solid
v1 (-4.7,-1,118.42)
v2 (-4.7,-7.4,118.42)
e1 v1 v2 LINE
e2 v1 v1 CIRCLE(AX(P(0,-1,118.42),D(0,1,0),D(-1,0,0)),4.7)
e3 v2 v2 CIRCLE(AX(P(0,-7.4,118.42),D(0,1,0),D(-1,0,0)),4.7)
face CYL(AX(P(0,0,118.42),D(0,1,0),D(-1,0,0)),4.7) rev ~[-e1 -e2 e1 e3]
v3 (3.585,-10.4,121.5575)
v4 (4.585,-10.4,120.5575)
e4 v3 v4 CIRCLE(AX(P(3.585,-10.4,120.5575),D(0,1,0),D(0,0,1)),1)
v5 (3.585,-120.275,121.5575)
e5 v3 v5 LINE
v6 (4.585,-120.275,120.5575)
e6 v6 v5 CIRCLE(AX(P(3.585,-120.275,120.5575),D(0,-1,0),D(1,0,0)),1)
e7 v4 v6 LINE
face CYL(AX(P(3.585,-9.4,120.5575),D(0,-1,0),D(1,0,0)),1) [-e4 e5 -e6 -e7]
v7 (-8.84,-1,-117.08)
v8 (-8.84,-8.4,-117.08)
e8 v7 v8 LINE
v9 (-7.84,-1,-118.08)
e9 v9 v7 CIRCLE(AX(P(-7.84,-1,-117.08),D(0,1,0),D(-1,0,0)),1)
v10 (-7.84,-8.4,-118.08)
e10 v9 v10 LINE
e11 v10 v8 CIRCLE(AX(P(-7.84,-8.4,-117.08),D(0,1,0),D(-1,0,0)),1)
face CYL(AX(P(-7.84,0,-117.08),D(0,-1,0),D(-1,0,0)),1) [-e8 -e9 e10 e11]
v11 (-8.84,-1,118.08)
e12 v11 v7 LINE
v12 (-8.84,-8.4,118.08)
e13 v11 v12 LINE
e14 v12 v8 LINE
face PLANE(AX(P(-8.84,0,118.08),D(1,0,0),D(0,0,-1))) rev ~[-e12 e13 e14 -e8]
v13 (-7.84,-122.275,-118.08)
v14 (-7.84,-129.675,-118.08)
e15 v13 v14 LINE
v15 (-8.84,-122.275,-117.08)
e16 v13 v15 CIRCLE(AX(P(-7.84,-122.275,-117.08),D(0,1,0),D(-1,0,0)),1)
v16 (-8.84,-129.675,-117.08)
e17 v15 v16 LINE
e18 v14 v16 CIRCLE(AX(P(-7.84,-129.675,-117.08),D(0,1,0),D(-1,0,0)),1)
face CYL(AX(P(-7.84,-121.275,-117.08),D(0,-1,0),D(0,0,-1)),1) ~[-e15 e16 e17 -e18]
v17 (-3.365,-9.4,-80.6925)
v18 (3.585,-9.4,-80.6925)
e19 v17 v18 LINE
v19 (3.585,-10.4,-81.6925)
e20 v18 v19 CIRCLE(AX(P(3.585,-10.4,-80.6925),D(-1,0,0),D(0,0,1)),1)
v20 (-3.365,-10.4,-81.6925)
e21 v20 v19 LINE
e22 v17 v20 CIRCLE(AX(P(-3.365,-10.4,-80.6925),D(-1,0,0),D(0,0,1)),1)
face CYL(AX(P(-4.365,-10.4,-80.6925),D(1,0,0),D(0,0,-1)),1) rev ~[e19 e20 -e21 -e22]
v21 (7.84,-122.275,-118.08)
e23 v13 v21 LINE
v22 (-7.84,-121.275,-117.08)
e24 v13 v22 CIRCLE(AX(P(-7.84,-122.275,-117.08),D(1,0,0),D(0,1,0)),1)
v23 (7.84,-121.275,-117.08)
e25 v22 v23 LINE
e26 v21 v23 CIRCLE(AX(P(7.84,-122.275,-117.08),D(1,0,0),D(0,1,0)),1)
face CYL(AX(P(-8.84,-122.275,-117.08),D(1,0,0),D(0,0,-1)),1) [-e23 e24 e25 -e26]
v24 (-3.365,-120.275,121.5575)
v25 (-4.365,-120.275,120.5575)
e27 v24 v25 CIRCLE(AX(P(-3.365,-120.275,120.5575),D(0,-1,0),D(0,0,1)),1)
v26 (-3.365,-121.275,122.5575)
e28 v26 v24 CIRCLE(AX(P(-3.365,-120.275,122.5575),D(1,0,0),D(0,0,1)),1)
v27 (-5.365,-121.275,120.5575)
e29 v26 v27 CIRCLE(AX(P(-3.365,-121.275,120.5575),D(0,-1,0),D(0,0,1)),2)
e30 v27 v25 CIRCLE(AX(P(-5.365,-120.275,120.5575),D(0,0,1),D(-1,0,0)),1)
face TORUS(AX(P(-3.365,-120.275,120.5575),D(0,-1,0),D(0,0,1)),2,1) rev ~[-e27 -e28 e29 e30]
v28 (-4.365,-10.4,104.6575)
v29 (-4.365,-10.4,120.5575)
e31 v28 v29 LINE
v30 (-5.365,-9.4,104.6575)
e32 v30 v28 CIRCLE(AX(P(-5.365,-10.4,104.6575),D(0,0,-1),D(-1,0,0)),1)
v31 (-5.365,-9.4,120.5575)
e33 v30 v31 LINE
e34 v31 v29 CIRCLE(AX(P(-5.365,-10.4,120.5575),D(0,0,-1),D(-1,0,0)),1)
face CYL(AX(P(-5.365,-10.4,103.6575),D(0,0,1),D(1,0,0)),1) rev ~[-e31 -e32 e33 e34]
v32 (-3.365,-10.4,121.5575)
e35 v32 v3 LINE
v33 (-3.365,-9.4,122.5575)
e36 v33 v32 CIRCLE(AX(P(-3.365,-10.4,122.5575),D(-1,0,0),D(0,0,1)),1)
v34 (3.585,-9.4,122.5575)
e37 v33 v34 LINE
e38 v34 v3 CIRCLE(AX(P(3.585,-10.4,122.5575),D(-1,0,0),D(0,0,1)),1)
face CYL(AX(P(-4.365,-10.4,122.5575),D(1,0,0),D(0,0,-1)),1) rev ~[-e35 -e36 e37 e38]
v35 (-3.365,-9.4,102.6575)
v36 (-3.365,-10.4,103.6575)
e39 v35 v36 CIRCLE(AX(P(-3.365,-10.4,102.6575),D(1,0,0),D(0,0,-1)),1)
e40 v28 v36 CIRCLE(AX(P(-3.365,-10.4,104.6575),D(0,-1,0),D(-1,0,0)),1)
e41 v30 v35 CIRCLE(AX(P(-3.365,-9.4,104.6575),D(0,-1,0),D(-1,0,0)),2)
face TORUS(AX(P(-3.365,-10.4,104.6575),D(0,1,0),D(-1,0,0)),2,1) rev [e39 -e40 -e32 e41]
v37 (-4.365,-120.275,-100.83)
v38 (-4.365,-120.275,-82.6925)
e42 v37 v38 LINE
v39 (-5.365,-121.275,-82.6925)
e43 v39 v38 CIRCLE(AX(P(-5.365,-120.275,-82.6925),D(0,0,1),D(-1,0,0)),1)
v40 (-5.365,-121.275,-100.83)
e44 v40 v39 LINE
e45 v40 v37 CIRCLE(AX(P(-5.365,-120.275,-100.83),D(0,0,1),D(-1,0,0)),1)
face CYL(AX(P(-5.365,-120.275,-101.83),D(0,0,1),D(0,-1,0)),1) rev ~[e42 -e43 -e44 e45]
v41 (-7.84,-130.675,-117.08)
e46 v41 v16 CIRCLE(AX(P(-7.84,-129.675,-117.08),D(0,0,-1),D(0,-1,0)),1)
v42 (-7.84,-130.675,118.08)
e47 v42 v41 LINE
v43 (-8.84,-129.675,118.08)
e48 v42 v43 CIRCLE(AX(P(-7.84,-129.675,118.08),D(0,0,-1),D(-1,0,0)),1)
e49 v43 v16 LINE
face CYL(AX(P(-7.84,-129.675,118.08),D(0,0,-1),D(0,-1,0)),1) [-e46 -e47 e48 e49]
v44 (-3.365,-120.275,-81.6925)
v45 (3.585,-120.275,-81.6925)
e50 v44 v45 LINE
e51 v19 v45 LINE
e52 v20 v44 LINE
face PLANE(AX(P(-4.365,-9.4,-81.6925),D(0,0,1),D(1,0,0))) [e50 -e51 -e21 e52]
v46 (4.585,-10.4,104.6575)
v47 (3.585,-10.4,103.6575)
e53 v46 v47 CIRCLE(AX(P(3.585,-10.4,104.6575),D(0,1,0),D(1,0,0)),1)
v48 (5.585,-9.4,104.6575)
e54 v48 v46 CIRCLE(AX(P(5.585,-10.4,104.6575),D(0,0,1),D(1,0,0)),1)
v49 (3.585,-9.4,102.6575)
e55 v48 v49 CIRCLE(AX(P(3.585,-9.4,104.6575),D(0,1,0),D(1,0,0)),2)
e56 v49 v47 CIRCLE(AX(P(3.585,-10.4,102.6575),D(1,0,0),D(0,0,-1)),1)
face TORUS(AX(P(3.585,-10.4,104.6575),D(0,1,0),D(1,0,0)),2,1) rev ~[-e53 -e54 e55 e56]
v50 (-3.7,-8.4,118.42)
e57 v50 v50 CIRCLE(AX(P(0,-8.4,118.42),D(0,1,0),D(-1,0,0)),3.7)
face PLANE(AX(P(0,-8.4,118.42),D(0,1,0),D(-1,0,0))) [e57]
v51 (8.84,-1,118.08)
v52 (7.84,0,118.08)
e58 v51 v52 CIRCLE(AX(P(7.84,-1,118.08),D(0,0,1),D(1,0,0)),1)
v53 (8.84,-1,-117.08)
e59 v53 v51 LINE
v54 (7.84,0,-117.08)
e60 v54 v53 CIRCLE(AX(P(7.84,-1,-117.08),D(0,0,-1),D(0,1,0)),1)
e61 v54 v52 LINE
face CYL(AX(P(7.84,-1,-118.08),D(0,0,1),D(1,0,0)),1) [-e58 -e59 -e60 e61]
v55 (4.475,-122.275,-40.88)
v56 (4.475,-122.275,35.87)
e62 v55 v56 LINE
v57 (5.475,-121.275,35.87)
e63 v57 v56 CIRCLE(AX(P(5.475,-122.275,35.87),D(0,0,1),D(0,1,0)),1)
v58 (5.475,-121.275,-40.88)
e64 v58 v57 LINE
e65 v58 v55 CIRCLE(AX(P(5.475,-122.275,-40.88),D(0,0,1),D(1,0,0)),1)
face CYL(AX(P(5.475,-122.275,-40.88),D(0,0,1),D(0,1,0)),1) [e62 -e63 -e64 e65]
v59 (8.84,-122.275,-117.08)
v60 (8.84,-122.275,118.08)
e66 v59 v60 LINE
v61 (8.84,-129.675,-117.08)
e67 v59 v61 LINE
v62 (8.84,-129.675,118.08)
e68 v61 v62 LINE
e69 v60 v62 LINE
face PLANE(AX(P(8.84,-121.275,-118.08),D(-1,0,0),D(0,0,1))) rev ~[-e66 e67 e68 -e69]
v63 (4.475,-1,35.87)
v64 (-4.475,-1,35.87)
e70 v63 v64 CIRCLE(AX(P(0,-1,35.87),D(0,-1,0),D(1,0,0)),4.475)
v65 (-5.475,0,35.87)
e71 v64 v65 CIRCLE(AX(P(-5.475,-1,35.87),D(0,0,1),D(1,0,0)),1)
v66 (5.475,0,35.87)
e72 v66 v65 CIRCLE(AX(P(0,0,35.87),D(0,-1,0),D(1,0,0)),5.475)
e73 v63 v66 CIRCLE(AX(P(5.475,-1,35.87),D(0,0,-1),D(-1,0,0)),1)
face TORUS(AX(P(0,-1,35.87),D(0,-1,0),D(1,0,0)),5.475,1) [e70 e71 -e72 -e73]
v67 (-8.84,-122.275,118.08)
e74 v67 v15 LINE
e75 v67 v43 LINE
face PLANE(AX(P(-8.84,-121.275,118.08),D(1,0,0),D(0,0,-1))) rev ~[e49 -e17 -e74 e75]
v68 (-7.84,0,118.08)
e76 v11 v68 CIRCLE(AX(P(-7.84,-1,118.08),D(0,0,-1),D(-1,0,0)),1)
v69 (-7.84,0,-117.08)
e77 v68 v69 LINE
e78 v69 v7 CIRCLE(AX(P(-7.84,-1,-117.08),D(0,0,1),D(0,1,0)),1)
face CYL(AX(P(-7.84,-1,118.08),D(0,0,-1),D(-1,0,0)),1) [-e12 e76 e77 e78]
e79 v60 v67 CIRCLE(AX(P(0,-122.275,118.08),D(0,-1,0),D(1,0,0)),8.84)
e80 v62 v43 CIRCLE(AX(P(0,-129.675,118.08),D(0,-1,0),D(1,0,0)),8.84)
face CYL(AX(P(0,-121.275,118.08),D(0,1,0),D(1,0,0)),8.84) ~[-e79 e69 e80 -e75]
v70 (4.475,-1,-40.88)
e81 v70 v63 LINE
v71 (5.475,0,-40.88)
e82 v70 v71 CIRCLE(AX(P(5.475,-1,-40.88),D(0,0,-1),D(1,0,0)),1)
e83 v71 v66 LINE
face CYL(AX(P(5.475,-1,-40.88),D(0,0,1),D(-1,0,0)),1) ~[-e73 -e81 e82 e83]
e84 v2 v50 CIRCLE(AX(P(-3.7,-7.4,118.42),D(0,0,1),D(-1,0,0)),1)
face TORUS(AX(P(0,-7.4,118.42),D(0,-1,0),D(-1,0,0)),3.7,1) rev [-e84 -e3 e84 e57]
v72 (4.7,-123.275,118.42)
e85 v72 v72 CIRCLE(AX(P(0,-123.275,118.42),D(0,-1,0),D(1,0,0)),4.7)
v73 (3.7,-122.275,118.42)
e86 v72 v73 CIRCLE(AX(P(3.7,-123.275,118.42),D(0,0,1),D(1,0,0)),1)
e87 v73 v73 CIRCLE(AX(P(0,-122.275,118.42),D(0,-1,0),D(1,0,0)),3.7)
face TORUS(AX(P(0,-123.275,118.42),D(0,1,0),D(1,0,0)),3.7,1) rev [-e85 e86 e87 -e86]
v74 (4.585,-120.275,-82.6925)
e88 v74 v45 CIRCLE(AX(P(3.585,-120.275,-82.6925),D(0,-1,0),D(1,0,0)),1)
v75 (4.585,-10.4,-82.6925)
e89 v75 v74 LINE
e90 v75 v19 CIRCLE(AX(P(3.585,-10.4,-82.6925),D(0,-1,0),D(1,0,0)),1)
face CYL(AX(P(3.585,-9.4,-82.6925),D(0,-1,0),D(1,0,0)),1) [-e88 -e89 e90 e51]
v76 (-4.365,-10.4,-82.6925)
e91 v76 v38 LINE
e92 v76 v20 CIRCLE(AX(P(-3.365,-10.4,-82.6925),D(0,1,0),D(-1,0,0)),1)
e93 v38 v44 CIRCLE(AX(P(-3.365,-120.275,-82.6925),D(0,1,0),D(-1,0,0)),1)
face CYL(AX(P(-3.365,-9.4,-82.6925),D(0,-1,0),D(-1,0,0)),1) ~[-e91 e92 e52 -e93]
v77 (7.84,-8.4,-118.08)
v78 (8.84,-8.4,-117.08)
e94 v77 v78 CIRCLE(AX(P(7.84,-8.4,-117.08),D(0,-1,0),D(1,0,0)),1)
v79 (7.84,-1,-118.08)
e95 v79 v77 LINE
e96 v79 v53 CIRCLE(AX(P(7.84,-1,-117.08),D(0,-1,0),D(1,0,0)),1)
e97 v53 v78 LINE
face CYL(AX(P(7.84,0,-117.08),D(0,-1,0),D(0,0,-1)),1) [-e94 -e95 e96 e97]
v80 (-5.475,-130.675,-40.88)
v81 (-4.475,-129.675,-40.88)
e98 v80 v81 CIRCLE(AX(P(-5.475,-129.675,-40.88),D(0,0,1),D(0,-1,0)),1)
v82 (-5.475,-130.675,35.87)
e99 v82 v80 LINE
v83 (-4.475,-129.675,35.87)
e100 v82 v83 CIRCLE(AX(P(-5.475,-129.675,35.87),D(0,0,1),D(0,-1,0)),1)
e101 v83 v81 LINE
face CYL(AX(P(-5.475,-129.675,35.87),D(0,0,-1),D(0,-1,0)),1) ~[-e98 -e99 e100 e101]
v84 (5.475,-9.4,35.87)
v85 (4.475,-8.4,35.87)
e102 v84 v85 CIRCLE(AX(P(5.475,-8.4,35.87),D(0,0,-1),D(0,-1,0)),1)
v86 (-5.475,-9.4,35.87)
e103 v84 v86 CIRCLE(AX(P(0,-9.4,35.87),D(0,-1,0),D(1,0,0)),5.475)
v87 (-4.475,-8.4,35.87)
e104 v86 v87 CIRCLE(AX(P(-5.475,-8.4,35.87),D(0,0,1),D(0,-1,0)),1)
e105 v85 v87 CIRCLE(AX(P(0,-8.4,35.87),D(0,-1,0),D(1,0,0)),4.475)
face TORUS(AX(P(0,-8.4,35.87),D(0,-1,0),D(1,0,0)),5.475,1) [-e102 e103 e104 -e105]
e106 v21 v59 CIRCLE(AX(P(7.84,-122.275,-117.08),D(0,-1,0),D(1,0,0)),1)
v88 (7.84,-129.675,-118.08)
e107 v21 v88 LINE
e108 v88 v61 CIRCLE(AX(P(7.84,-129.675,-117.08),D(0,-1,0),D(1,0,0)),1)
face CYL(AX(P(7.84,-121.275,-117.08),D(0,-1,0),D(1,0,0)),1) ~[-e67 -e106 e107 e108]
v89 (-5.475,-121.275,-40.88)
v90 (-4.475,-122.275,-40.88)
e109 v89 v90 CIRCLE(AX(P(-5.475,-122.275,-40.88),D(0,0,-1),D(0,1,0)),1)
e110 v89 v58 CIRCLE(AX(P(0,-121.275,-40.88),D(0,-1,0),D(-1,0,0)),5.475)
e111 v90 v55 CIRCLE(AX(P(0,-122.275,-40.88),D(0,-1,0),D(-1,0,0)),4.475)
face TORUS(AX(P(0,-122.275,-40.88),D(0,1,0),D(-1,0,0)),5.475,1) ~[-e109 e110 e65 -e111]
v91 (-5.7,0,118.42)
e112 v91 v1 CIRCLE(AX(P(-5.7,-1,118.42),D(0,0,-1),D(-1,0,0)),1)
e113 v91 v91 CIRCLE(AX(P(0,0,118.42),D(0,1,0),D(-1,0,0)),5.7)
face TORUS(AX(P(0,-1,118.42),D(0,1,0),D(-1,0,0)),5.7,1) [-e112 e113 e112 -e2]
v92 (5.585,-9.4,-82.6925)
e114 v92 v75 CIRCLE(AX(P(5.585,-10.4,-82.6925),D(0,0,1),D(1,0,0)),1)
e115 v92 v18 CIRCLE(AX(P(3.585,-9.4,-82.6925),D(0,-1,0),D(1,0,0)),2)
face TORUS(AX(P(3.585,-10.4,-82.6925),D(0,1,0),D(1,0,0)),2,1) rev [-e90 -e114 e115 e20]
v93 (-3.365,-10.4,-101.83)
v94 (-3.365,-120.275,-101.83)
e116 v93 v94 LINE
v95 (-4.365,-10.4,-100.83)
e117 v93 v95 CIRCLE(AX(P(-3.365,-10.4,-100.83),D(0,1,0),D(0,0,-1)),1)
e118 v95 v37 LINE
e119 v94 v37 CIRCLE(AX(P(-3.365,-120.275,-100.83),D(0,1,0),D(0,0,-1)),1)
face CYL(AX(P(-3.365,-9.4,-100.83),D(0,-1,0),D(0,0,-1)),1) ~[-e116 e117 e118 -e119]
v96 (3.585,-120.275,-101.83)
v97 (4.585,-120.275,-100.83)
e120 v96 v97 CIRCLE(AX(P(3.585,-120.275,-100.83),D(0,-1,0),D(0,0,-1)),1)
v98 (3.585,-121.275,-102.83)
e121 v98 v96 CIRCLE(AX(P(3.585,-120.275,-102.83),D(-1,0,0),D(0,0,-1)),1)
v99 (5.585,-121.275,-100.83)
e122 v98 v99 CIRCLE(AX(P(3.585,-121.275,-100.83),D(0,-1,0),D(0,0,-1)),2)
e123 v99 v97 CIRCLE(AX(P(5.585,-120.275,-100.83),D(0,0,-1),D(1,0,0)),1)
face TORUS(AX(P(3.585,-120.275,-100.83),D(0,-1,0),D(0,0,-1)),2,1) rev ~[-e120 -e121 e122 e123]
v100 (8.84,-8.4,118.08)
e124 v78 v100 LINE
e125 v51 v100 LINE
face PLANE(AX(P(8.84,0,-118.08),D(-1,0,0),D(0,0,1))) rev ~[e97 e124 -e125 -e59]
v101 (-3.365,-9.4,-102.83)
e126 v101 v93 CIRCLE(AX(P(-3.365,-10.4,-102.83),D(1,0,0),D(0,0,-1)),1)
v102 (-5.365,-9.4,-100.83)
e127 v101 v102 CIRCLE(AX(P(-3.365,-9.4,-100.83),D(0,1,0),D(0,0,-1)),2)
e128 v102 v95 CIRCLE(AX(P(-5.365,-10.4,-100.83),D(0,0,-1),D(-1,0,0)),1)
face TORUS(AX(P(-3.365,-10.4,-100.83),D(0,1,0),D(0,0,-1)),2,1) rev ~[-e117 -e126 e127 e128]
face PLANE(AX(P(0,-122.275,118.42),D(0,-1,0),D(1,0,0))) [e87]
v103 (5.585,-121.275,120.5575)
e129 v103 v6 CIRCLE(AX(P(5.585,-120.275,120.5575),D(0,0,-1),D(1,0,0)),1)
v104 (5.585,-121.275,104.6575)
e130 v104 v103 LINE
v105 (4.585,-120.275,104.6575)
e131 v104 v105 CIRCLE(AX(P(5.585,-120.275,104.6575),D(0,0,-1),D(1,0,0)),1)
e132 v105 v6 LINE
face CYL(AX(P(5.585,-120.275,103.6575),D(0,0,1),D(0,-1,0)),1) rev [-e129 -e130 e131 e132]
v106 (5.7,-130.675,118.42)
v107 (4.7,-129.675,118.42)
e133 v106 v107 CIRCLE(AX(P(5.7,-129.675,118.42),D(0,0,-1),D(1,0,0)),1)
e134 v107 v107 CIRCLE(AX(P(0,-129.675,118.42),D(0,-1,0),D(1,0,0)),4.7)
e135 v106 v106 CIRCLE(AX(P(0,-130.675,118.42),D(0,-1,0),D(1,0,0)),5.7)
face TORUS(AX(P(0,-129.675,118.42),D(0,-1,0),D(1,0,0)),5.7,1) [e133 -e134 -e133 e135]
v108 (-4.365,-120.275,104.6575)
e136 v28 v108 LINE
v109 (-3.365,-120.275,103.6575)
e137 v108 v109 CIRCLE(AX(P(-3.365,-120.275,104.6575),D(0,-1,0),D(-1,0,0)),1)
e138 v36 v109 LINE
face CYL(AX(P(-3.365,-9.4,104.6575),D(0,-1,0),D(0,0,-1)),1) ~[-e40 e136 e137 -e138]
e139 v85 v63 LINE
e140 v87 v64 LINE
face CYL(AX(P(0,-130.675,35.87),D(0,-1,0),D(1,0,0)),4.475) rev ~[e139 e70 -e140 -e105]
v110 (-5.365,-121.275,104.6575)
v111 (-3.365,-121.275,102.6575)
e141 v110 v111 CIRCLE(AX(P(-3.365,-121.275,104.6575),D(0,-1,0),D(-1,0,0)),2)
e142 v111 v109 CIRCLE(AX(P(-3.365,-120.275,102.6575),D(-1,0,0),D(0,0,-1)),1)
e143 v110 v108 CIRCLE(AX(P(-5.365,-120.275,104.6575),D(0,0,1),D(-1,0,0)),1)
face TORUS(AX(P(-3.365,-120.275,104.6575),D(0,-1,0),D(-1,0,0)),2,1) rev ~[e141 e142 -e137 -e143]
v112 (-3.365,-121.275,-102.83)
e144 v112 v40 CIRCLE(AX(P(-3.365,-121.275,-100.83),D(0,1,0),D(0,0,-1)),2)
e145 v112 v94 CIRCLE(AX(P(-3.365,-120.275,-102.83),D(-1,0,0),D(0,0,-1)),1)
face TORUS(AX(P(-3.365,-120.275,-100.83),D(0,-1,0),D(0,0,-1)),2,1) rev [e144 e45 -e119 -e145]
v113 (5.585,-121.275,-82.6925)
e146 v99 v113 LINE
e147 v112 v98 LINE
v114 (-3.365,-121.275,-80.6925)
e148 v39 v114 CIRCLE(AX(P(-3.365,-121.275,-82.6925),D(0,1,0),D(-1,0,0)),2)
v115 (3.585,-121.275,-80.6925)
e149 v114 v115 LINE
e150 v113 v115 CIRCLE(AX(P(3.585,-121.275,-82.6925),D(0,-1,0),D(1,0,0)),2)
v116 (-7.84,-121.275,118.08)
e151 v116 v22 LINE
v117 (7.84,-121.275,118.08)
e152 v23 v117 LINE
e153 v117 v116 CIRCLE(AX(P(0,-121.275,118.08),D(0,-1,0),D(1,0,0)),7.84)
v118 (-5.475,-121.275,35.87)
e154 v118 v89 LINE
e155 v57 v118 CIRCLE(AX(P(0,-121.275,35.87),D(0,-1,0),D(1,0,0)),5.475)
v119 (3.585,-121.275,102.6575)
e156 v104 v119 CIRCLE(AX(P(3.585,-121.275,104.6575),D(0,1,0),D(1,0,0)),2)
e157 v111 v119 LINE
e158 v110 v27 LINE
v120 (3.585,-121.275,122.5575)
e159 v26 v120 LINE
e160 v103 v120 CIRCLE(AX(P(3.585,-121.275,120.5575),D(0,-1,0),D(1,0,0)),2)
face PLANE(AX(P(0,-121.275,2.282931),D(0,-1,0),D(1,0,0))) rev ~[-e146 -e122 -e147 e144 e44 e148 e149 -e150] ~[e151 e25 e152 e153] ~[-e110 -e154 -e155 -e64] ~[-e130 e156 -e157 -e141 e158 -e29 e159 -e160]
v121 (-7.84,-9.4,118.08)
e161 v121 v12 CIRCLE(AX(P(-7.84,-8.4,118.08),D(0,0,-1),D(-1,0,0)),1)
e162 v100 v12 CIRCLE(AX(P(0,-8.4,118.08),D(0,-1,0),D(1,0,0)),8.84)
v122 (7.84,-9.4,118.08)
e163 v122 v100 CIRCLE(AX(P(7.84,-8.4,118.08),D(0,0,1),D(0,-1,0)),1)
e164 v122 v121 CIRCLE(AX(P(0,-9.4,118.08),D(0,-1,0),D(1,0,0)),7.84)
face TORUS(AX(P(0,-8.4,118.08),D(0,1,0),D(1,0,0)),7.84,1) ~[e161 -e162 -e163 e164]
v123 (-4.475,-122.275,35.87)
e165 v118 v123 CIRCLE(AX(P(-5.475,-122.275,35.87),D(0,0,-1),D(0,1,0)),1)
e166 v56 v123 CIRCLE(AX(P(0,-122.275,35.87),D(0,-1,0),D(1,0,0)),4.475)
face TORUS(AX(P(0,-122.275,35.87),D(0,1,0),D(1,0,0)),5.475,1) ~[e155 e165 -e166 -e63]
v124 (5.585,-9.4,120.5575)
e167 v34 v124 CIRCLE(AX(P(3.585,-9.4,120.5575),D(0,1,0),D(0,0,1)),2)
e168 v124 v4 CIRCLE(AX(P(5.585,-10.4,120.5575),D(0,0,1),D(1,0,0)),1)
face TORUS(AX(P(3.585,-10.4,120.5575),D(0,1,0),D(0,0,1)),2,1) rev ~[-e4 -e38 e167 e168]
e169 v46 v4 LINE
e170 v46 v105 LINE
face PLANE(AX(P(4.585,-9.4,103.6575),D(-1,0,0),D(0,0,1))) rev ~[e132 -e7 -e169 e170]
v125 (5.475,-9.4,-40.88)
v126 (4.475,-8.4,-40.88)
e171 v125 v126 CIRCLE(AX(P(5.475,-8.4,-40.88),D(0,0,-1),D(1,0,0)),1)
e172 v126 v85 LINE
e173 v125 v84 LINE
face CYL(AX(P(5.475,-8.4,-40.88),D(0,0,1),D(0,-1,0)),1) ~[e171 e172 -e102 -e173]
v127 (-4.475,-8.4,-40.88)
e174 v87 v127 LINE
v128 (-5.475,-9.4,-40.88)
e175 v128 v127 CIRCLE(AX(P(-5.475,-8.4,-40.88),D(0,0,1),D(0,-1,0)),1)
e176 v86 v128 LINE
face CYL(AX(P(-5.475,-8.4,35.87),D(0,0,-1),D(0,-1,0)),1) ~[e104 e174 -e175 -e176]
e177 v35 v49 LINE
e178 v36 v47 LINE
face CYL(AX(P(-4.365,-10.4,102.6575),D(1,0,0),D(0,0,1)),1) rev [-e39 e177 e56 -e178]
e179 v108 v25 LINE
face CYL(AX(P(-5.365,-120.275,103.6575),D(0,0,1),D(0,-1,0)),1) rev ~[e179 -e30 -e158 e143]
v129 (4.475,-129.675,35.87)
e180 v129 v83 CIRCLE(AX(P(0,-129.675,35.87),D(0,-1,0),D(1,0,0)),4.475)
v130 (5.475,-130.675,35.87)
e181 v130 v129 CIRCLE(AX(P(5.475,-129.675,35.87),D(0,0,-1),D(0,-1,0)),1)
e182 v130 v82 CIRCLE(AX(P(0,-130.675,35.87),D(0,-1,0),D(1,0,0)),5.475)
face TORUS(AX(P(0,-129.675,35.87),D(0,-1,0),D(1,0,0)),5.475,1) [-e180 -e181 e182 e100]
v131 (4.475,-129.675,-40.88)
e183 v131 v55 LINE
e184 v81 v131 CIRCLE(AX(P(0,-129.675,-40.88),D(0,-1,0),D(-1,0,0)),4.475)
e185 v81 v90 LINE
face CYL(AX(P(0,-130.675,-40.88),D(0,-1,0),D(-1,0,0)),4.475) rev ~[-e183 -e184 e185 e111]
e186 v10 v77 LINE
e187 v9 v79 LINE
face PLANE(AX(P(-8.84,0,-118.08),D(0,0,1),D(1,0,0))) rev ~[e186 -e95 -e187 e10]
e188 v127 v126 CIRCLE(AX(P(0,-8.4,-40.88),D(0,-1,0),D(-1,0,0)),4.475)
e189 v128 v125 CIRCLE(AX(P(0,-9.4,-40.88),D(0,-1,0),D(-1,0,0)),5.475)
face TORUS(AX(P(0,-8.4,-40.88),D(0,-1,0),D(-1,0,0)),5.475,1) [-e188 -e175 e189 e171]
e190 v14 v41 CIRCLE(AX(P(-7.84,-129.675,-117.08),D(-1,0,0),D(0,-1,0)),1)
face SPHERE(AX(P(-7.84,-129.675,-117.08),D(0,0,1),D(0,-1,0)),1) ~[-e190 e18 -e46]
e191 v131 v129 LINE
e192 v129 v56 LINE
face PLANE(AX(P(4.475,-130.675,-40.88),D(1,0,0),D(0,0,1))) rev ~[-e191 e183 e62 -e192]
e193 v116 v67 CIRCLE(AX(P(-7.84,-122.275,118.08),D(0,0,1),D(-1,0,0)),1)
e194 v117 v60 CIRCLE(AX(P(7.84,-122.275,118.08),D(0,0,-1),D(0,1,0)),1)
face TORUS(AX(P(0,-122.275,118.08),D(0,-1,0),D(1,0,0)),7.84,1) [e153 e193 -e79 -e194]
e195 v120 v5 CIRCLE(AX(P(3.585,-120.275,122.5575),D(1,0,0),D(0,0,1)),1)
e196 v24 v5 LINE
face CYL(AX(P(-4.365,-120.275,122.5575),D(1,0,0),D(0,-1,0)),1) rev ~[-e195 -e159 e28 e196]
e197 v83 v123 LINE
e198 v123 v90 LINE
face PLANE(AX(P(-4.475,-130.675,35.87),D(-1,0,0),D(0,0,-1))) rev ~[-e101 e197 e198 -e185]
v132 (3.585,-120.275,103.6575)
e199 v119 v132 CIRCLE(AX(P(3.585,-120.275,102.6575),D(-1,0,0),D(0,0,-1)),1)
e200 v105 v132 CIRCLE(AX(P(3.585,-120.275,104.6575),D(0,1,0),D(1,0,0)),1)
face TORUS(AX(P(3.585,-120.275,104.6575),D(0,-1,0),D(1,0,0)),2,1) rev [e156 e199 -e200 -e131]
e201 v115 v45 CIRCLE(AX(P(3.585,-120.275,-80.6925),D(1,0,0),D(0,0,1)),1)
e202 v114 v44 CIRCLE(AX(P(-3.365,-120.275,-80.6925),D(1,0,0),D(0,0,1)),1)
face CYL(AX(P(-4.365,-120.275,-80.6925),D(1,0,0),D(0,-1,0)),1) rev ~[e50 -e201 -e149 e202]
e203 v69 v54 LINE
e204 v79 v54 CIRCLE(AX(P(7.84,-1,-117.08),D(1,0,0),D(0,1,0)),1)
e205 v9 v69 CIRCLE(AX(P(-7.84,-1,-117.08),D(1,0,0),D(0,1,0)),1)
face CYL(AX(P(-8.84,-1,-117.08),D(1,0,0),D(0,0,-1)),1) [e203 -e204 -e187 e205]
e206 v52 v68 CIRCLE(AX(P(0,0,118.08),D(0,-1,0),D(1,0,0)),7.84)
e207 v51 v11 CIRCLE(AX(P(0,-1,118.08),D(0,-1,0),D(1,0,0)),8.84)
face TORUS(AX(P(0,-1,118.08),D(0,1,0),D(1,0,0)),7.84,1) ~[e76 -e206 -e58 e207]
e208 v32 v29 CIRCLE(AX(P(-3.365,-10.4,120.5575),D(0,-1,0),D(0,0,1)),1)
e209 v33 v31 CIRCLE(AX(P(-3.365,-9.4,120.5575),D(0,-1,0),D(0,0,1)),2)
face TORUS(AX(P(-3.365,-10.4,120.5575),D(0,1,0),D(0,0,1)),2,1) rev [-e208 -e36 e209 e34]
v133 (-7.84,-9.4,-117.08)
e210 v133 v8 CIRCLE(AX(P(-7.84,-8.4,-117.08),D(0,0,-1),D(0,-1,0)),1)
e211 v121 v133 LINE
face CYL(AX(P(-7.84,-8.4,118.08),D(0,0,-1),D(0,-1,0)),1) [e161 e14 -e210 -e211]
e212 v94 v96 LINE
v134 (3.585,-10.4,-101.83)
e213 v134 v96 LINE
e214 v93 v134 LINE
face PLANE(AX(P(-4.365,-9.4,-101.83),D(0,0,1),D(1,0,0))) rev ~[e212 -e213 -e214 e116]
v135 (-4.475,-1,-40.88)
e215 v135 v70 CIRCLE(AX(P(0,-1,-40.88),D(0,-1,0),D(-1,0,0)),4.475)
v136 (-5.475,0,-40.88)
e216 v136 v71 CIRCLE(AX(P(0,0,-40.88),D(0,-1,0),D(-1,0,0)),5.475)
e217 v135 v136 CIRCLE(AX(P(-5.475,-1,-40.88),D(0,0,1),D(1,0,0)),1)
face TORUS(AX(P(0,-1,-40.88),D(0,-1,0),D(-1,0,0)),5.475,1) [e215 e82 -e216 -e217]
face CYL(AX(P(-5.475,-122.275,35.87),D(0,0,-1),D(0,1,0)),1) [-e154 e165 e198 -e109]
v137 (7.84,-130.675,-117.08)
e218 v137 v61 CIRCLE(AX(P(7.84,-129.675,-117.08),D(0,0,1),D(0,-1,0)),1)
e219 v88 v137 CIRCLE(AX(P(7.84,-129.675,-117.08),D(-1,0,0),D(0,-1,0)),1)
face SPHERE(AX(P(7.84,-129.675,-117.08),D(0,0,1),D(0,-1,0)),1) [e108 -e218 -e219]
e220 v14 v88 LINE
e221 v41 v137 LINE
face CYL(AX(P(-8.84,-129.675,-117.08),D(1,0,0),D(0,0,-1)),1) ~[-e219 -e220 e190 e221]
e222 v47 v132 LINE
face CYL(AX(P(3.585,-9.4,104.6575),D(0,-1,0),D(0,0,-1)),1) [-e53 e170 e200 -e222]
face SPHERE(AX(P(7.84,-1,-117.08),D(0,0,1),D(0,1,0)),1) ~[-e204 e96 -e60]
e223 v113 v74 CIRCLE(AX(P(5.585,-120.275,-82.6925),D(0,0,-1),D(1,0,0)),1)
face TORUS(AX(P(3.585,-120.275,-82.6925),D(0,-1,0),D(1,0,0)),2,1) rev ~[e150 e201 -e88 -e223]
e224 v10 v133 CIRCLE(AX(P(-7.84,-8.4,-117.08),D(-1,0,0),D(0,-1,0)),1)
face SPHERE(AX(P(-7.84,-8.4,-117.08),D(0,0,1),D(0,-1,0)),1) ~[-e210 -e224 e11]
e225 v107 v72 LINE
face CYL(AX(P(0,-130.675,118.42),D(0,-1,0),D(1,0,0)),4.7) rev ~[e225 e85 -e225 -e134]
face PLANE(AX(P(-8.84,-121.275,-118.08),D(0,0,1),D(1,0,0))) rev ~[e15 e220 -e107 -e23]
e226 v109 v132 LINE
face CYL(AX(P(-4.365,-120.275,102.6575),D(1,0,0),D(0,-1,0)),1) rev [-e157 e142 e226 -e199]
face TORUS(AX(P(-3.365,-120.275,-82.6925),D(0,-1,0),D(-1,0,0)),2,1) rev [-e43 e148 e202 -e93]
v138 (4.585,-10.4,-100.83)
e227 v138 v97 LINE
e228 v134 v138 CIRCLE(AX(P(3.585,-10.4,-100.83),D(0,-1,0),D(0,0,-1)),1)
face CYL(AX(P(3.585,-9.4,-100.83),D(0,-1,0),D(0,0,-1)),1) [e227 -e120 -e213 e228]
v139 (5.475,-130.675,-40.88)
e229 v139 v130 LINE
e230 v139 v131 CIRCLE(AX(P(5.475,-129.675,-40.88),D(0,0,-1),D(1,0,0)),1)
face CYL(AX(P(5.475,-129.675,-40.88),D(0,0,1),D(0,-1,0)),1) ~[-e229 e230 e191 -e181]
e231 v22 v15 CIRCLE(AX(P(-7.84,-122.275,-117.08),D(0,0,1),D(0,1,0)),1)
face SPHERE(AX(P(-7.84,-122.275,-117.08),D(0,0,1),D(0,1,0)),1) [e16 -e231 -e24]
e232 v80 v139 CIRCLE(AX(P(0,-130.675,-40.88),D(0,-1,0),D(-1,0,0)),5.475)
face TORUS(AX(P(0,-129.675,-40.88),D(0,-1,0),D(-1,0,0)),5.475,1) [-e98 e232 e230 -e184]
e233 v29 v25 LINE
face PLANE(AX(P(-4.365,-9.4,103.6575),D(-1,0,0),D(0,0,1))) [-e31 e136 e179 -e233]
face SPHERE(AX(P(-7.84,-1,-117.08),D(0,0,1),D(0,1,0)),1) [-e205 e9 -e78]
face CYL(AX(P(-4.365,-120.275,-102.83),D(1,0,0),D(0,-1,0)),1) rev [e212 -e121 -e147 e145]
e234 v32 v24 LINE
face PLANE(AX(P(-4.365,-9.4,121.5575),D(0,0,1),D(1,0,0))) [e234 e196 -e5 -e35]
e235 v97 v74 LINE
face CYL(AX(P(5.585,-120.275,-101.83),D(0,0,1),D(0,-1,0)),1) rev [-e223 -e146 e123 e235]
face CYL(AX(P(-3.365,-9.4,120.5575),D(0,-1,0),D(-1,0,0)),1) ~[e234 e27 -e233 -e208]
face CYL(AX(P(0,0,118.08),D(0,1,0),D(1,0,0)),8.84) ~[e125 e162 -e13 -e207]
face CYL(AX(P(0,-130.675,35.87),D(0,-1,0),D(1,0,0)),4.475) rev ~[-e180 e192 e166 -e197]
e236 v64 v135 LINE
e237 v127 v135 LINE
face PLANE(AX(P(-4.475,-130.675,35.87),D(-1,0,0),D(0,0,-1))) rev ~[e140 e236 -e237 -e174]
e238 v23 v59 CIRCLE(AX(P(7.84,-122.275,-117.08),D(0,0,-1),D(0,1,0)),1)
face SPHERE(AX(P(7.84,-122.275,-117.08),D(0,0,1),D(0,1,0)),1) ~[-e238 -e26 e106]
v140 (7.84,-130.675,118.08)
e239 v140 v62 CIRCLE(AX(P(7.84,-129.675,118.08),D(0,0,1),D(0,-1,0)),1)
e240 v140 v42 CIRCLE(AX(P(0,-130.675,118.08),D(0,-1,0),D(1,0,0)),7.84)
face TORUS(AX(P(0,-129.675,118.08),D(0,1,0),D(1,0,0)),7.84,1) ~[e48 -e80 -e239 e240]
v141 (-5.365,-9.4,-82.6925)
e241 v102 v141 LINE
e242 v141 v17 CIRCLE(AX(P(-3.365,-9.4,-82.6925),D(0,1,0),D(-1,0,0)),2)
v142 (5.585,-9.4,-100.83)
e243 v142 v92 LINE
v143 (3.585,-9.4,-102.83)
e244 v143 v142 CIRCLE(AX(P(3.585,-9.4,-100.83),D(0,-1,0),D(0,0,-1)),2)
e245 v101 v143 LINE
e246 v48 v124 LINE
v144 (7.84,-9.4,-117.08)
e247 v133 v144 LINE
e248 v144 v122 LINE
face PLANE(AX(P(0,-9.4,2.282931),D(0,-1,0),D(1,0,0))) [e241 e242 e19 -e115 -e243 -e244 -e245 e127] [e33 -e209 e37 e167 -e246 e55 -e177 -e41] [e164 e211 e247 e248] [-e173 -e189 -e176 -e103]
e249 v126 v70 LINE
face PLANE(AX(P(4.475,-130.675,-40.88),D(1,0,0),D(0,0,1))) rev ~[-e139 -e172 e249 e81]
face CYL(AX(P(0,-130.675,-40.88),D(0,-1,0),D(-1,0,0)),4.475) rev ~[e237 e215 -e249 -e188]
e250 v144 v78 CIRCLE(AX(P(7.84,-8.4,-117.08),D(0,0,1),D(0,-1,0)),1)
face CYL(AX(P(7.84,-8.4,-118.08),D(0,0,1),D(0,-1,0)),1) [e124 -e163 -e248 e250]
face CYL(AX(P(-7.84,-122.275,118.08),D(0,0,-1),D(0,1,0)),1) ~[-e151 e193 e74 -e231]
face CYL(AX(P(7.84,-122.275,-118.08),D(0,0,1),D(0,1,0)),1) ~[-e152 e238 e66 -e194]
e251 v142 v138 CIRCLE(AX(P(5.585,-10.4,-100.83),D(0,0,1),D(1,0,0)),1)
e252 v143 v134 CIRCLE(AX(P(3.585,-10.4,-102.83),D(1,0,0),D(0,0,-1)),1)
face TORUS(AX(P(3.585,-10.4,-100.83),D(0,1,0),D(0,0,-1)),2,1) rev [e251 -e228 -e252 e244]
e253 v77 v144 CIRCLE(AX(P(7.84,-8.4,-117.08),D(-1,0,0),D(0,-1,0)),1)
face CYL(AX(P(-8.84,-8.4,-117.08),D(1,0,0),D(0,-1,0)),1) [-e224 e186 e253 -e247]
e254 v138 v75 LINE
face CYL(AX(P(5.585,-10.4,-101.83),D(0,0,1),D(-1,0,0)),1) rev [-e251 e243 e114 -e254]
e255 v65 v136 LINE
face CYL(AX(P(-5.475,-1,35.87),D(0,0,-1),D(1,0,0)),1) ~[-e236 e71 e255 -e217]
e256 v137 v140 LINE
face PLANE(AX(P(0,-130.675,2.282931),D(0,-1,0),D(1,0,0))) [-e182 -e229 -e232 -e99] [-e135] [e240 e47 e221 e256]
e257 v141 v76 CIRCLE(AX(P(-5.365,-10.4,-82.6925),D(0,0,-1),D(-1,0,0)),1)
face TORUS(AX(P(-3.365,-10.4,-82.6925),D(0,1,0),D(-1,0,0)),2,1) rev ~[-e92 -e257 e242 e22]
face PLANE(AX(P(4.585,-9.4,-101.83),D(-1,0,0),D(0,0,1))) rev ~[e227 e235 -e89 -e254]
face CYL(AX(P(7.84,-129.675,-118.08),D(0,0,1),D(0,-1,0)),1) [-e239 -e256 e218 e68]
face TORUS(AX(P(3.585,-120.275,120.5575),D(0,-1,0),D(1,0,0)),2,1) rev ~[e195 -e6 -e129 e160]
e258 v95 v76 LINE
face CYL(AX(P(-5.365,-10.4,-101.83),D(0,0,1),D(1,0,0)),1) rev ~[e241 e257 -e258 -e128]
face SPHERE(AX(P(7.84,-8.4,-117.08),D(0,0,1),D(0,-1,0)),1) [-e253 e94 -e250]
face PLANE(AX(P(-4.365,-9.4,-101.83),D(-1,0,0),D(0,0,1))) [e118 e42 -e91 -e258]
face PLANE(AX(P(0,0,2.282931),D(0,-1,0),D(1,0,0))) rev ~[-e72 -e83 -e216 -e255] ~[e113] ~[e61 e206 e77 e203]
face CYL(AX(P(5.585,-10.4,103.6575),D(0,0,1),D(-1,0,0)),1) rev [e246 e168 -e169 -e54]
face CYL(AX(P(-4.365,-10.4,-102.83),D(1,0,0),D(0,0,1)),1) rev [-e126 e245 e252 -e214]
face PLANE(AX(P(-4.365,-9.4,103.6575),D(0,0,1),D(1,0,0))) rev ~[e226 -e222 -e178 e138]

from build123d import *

# Parameters (mm, degrees)
F1_DEPTH  = 9.4
F2_W      = 8.95
F2_H      = 17.9
F2_H_2    = 20.1375
F3_DEPTH  = 111.875
F5_DEPTH  = 9.4
F7_DEPTH  = 130.676
F6_R      = 4.7
F8_DEPTH  = 8.4
F9_R      = 4.7
F10_DEPTH = 8.4
F11_R     = 1


with BuildPart() as f1:
    # F0 (on Front) → F1 (new body)
    with BuildSketch(Plane.XZ):
        with BuildLine():
            Line((-8.84, 118.08), (-8.84, -118.08))
            Line((-8.84, -118.08), (8.84, -118.08))
            Line((8.84, -118.08), (8.84, 118.08))
            ThreePointArc((8.84, 118.08), (0, 126.92), (-8.84, 118.08))
        make_face()
    extrude(amount=F1_DEPTH)

    # F2 (on face) → F3 (join)
    with BuildSketch(Plane.XZ.offset(9.4)):
        with Locations((0.11, 112.6075)):
            Rectangle(F2_W, F2_H)
        with Locations((0.11, -91.76125)):
            Rectangle(F2_W, F2_H_2)
    extrude(amount=F3_DEPTH)

    # F4 (on face) → F5 (join)
    with BuildSketch(Plane.XZ.offset(121.275)):
        with BuildLine():
            Line((8.84, -118.08), (8.84, 118.08))
            ThreePointArc((8.84, 118.08), (0, 126.92), (-8.84, 118.08))
            Line((-8.84, 118.08), (-8.84, -118.08))
            Line((-8.84, -118.08), (8.84, -118.08))
        make_face()
    extrude(amount=F5_DEPTH)

    # F6 (on face) → F7 (cut, through all)
    with BuildSketch(Plane.XZ.offset(130.675)):
        with BuildLine():
            Line((4.475, -40.88), (4.475, 35.87))
            ThreePointArc((4.475, 35.87), (0, 40.345), (-4.475, 35.87))
            Line((-4.475, 35.87), (-4.475, -40.88))
            ThreePointArc((-4.475, -40.88), (0, -45.355), (4.475, -40.88))
        make_face()
    extrude(amount=-F7_DEPTH, mode=Mode.SUBTRACT)

    # F6 (on face) → F8 (cut)
    with BuildSketch(Plane.XZ.offset(130.675)):
        with Locations((0, 118.42)):
            Circle(F6_R)
    extrude(amount=-F8_DEPTH, mode=Mode.SUBTRACT)

    # F9 (on face) → F10 (cut)
    with BuildSketch(Plane(origin=(0, 0, 0), x_dir=(-1, 0, 0), z_dir=(0, 1, 0))):
        with Locations((0, 118.42)):
            Circle(F9_R)
    extrude(amount=-F10_DEPTH, mode=Mode.SUBTRACT)

    # F11
    f11_edges = [f1.edges().sort_by_distance(p)[0] for p in [
        (-8.84, -130.675, 0),
        (0, -130.675, 126.92),
        (0, -130.675, -118.08),
        (8.84, -130.675, 0),
        (-4.475, -130.675, -2.505),
        (0, -130.675, 40.345),
        (0, -130.675, -45.355),
        (4.475, -130.675, -2.505),
        (-4.7, -130.675, 118.42),
        (-8.84, -9.4, 0),
        (0, -9.4, 126.92),
        (0, -9.4, -118.08),
        (8.84, -9.4, 0),
        (-4.475, -9.4, -2.505),
        (0, -9.4, -45.355),
        (4.475, -9.4, -2.505),
        (0, -9.4, 40.345),
        (0.11, -9.4, -101.83),
        (-4.365, -9.4, -91.76125),
        (4.585, -9.4, -91.76125),
        (0.11, -9.4, -81.6925),
        (0.11, -9.4, 121.5575),
        (4.585, -9.4, 112.6075),
        (-4.365, -9.4, 112.6075),
        (0.11, -9.4, 103.6575),
        (4.585, -65.3375, 103.6575),
        (4.585, -65.3375, 121.5575),
        (4.585, -121.275, 112.6075),
        (-4.365, -65.3375, 121.5575),
        (0.11, -121.275, 121.5575),
        (-8.84, -121.275, 0),
        (0, -121.275, 126.92),
        (0, -121.275, -118.08),
        (8.84, -121.275, 0),
        (-4.475, -121.275, -2.505),
        (0, -121.275, -45.355),
        (4.475, -121.275, -2.505),
        (0, -121.275, 40.345),
        (0.11, -121.275, -101.83),
        (-4.365, -121.275, -91.76125),
        (4.585, -121.275, -91.76125),
        (0.11, -121.275, -81.6925),
        (-4.365, -121.275, 112.6075),
        (0.11, -121.275, 103.6575),
        (-8.84, 0, 0),
        (0, 0, 126.92),
        (0, 0, -118.08),
        (8.84, 0, 0),
        (-4.475, 0, -2.505),
        (0, 0, 40.345),
        (0, 0, -45.355),
        (4.475, 0, -2.505),
        (4.7, 0, 118.42),
        (-4.365, -65.3375, 103.6575),
        (-4.365, -65.3375, -81.6925),
        (-4.365, -65.3375, -101.83),
        (4.585, -65.3375, -101.83),
        (4.585, -65.3375, -81.6925),
        (-8.84, -4.7, -118.08),
        (8.84, -4.7, -118.08),
        (-8.84, -125.975, -118.08),
        (8.84, -125.975, -118.08),
        (4.7, -8.4, 118.42),
        (-4.7, -122.275, 118.42),
    ]]
    fillet(f11_edges, radius=F11_R)


solid = f1.part
